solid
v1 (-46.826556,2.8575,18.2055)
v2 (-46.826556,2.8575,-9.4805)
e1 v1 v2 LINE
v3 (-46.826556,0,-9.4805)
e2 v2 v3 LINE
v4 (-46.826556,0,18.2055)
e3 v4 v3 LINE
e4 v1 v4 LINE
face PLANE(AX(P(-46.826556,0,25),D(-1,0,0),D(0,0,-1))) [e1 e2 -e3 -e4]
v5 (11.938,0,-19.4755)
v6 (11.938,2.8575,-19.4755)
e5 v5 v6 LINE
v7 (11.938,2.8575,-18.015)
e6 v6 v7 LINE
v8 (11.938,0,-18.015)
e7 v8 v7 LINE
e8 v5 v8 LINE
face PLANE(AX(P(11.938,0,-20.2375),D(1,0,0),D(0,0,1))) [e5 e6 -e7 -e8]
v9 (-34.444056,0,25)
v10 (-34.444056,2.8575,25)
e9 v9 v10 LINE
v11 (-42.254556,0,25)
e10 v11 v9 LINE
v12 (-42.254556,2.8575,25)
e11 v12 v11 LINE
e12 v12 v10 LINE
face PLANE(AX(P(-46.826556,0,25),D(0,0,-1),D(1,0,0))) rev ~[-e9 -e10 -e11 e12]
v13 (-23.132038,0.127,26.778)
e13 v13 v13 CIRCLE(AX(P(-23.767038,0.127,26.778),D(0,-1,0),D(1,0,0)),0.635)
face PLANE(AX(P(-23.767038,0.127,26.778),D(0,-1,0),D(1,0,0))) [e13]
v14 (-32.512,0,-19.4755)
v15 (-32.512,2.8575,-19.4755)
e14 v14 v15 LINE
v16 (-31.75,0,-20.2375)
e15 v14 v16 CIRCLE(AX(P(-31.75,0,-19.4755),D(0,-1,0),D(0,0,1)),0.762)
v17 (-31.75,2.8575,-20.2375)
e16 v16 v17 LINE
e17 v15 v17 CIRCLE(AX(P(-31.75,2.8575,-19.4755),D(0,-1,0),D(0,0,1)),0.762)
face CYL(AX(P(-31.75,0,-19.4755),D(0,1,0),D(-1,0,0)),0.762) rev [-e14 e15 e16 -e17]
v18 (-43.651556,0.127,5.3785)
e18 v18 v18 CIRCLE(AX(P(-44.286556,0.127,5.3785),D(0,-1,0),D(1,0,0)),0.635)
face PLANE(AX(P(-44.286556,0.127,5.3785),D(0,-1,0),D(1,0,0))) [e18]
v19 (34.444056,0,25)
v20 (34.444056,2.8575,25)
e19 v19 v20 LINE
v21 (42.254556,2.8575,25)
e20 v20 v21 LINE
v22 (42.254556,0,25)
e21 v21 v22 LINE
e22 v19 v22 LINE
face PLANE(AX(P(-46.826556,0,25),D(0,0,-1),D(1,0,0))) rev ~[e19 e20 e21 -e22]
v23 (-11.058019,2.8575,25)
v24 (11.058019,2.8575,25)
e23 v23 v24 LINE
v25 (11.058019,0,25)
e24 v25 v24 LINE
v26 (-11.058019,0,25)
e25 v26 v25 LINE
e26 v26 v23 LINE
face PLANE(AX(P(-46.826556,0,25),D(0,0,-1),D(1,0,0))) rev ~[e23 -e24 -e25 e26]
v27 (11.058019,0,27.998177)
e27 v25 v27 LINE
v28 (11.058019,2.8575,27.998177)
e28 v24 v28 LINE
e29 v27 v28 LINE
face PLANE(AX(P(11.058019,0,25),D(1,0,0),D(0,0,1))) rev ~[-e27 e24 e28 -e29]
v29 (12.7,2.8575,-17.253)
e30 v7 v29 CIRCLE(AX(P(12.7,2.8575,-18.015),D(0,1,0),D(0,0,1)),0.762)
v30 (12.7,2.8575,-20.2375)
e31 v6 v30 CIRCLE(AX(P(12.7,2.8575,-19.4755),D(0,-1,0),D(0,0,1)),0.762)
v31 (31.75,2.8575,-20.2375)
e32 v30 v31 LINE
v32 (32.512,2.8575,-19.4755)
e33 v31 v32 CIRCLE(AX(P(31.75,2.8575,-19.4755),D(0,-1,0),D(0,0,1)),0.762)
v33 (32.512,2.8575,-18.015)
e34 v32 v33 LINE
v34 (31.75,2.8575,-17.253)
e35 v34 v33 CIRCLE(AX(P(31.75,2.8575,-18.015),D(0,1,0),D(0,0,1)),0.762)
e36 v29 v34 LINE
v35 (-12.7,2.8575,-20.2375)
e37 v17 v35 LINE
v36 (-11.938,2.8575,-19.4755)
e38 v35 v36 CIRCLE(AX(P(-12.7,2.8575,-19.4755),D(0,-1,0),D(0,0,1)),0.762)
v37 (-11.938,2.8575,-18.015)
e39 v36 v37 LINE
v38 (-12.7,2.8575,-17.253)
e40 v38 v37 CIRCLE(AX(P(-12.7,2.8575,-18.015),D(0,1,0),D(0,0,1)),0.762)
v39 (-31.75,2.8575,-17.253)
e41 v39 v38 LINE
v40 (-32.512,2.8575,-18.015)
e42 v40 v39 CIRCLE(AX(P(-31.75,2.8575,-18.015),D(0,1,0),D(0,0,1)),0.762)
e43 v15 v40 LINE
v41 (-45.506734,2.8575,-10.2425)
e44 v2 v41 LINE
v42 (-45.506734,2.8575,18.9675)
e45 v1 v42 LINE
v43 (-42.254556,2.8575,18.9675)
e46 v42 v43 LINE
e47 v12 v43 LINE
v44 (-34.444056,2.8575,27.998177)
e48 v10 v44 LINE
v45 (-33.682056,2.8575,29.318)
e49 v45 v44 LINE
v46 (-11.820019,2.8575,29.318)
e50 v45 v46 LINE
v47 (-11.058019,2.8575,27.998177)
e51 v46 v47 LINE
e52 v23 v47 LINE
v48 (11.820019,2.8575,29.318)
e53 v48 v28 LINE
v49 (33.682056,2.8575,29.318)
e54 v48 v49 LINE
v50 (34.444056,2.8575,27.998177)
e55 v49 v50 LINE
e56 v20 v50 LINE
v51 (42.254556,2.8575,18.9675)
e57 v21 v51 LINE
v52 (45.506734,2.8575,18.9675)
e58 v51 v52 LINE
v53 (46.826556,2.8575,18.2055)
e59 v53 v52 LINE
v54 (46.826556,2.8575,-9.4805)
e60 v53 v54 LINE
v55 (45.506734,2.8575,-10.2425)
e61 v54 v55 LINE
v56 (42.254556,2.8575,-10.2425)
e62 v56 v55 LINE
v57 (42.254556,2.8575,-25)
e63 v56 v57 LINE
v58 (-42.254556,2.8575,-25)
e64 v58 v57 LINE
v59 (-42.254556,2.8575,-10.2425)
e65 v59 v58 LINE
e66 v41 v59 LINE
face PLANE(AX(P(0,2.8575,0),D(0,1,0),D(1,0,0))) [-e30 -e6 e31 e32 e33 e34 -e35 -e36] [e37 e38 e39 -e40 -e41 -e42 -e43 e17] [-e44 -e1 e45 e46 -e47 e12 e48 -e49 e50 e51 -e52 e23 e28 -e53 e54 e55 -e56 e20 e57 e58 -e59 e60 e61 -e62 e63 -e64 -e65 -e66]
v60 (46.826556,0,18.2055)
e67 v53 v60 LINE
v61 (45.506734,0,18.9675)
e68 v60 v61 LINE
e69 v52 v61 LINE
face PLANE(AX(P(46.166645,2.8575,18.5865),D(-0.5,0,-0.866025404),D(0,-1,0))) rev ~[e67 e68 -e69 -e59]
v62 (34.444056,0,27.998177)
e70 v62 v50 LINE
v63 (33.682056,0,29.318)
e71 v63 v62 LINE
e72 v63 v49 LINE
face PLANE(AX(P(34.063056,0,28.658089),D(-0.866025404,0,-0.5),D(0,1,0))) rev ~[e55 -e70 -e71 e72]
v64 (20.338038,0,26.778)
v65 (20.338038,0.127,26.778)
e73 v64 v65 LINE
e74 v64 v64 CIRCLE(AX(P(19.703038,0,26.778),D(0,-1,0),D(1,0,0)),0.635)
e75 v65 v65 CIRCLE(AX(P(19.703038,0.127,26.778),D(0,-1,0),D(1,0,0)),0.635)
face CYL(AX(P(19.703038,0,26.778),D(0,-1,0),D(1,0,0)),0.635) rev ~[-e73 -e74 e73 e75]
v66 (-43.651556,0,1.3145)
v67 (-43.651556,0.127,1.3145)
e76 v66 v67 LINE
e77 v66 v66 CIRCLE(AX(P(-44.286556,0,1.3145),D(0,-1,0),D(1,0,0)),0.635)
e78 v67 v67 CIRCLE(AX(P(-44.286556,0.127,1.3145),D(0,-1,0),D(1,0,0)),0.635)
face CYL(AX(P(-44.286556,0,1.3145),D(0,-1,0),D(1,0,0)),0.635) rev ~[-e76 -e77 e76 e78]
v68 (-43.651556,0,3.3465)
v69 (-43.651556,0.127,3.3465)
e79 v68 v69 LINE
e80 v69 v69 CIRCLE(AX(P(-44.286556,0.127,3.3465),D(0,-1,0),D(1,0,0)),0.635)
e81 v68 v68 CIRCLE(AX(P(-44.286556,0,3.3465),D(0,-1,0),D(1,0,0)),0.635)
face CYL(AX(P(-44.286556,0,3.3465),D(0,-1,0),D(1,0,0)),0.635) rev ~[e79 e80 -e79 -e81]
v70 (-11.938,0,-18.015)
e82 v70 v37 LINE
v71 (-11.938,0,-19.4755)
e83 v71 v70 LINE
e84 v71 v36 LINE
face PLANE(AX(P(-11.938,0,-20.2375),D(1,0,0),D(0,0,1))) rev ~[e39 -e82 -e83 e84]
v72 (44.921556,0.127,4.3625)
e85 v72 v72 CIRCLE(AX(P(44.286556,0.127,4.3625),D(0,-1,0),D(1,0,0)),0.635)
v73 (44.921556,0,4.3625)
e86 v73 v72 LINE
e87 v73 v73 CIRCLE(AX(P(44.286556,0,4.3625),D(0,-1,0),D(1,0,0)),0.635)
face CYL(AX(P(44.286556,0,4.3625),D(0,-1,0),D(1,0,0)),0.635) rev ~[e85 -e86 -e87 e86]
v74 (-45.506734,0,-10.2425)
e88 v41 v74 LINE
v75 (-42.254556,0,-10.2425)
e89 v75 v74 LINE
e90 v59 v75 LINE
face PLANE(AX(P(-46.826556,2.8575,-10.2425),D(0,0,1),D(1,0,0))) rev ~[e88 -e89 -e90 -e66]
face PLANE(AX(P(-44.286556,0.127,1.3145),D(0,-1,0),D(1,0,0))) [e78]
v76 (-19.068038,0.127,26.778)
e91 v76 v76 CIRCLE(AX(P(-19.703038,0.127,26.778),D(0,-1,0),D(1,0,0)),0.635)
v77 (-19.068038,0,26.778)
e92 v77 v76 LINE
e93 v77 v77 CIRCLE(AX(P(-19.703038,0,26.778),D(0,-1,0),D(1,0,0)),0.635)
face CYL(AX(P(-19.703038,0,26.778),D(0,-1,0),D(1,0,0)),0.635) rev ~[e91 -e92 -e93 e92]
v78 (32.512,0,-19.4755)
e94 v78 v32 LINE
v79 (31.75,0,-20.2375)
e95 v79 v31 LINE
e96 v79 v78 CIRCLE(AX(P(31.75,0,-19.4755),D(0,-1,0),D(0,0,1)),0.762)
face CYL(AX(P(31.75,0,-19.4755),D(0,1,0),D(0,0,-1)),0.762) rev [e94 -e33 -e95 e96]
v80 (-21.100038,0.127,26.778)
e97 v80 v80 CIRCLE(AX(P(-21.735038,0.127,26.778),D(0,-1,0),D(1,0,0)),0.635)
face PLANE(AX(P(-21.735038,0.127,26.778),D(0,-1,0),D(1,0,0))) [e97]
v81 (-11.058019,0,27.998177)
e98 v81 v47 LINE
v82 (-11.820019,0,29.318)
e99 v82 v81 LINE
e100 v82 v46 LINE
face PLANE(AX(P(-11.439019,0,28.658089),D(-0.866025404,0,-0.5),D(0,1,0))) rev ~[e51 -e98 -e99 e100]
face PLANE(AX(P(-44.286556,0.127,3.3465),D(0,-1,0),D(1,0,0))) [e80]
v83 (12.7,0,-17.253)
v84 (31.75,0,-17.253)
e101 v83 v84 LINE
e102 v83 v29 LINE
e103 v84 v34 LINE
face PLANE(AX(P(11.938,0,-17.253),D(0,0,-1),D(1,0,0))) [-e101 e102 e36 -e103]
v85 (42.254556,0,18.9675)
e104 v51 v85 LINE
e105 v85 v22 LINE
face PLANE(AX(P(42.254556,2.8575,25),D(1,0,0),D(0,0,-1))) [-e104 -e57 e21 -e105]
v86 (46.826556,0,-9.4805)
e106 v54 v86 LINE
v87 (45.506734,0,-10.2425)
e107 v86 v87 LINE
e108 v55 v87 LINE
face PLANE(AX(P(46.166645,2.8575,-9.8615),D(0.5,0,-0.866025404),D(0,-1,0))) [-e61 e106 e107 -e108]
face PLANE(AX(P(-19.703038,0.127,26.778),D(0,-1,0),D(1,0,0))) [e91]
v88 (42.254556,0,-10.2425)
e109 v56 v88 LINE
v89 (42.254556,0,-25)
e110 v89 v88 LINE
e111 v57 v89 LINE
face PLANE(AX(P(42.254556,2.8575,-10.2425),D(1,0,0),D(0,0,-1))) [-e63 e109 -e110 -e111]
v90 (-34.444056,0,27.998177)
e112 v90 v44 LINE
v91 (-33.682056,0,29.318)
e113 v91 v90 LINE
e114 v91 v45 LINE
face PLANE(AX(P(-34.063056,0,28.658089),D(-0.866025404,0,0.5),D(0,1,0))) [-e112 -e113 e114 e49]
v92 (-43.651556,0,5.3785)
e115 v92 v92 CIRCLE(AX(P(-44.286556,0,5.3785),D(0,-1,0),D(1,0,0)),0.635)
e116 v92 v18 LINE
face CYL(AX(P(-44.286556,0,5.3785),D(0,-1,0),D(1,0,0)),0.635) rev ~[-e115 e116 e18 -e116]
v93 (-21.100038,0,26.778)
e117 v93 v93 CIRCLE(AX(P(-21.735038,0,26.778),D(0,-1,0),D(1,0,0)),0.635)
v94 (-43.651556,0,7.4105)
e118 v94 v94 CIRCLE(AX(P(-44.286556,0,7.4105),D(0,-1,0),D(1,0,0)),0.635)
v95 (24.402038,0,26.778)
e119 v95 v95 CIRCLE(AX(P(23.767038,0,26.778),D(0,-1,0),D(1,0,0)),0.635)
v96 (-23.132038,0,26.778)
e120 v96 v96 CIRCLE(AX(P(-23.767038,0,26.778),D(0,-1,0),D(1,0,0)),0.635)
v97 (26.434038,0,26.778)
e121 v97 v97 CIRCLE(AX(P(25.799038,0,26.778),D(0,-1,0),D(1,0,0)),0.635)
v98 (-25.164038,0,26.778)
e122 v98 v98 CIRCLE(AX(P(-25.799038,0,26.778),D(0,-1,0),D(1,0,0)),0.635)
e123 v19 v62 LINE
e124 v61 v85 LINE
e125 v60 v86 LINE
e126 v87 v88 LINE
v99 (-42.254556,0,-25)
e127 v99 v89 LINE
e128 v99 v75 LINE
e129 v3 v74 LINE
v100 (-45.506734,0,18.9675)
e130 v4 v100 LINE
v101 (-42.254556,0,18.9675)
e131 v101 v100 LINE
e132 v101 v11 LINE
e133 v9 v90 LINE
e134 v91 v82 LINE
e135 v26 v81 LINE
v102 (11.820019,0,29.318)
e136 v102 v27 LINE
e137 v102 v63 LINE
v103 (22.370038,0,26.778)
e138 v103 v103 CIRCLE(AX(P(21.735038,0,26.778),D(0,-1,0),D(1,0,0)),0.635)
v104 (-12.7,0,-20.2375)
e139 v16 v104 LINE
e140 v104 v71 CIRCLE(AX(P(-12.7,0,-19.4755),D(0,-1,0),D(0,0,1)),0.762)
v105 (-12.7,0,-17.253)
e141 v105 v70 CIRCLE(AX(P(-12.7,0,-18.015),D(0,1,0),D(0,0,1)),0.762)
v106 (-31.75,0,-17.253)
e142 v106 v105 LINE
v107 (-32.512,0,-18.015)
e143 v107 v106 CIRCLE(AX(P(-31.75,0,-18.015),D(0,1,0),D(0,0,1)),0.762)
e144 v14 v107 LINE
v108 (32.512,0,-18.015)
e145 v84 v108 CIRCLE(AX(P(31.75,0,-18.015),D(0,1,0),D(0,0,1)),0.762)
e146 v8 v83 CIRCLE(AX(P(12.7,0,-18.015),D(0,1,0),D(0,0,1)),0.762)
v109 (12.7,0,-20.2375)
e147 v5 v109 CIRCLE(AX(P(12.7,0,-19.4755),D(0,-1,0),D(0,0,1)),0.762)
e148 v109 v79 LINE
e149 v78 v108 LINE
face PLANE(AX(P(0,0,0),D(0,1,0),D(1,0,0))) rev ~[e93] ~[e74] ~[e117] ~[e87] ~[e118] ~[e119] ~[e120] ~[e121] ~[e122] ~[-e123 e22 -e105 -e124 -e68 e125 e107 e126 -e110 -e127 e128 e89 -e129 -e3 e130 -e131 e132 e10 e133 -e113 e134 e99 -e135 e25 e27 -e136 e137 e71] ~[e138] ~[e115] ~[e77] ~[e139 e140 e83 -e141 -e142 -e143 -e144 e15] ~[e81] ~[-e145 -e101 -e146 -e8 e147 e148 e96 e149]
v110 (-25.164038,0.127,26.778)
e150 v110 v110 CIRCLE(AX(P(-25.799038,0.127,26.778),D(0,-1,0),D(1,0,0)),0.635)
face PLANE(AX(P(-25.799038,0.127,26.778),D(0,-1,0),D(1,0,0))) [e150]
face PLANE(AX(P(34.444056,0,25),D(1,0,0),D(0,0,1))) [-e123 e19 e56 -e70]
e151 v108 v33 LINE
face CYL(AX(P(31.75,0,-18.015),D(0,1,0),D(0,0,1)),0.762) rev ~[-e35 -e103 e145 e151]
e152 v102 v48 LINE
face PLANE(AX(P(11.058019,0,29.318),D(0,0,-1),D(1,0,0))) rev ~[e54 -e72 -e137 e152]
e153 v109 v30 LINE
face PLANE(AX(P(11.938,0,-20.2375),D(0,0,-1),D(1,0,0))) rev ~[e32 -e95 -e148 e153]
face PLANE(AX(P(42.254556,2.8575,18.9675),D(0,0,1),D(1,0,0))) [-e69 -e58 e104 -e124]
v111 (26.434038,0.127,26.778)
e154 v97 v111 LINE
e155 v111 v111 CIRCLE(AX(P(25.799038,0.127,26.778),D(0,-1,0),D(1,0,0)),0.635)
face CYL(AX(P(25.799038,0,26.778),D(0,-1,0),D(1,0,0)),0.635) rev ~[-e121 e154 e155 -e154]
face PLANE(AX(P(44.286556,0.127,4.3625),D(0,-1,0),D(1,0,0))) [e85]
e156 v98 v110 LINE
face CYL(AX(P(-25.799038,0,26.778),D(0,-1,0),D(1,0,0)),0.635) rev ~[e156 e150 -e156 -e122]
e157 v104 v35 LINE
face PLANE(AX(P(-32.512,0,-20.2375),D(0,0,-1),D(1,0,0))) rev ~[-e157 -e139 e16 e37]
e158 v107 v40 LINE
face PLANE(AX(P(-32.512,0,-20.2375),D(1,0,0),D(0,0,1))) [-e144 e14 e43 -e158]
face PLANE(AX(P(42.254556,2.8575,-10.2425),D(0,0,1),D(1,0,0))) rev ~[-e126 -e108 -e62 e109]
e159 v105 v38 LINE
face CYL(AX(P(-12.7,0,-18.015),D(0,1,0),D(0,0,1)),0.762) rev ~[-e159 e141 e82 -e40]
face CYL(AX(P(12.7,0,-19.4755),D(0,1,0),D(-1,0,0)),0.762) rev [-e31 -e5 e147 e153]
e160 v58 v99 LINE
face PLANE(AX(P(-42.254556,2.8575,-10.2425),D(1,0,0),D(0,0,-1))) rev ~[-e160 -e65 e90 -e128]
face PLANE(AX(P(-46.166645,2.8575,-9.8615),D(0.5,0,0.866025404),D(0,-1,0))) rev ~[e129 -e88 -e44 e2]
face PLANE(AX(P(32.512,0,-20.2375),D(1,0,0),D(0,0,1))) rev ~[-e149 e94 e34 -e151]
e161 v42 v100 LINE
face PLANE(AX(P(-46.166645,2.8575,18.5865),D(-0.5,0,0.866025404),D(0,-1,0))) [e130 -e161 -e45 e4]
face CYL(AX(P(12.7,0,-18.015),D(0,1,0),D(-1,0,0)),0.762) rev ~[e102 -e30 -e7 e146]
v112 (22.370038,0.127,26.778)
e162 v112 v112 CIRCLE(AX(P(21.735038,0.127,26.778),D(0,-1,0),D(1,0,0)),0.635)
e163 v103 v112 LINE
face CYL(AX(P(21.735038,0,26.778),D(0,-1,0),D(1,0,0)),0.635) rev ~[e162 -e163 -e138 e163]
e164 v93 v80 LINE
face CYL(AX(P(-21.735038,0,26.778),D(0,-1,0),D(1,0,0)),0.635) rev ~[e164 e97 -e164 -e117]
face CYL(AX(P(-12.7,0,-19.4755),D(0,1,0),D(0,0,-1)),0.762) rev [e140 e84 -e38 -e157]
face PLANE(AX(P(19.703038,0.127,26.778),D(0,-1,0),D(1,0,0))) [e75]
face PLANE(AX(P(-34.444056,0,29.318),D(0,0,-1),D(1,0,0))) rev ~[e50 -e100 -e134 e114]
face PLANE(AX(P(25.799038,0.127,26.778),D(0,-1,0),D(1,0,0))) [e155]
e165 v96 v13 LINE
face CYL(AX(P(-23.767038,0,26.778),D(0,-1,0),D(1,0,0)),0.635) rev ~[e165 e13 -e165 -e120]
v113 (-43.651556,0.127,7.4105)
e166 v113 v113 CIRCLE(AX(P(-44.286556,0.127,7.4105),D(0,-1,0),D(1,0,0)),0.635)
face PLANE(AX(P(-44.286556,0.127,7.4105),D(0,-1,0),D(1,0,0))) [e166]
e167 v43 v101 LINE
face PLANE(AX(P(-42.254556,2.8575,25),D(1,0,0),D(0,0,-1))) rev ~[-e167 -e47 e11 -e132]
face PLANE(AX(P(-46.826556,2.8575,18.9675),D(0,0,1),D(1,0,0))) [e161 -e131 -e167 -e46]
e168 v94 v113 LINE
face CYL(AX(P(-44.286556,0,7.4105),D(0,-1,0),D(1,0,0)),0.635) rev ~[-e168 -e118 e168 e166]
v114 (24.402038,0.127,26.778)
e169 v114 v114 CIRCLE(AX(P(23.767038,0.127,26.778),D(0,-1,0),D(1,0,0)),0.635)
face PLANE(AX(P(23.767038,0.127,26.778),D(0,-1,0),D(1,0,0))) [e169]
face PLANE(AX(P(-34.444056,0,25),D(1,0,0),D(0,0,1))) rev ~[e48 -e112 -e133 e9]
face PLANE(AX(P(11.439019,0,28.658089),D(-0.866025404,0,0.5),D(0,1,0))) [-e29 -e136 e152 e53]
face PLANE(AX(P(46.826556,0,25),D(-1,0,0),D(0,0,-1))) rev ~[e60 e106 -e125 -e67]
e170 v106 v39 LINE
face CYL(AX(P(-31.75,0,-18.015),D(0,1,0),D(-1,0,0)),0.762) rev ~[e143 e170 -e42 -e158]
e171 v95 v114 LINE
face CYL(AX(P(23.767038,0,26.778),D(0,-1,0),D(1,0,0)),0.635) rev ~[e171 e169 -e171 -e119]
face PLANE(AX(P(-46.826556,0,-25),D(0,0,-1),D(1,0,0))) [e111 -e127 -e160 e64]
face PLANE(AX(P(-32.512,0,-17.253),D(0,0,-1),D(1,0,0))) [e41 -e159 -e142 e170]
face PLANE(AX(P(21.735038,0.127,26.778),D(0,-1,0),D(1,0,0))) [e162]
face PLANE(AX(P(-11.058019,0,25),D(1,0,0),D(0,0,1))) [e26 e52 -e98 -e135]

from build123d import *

# Parameters (mm, degrees)
SKETCH1_W             = 93.653112922
SKETCH1_H             = 50
BOSS_EXTRUDE1_DEPTH   = 2.8575
SKETCH3_W             = 23.386037641
SKETCH3_H             = 4.318
BOSS_EXTRUDE2_DEPTH   = 2.8575
CUT_EXTRUDE1_REACH    = 4.857
SKETCH4_W             = 4.572
SKETCH4_H             = 14.7575
SKETCH4_H_2           = 6.0325
CUT_EXTRUDE2_REACH    = 4.857
SKETCH5_W             = 20.574
SKETCH5_H             = 2.9845
SKETCH6_R             = 0.635
CUT_EXTRUDE3_DEPTH    = 0.127
CHAMFER1_SIZE         = 0.762
CHAMFER1_SIZE2        = 1.319822715
CHAMFER1_PART_2_SIZE  = 0.762
CHAMFER1_PART_2_SIZE2 = 1.319822715
CHAMFER1_PART_3_SIZE  = 0.762
CHAMFER1_PART_3_SIZE2 = 1.319822715
CHAMFER1_PART_4_SIZE  = 0.762
CHAMFER1_PART_4_SIZE2 = 1.319822715
CHAMFER2_SIZE         = 0.762
CHAMFER2_SIZE2        = 1.319822715
CHAMFER2_PART_2_SIZE  = 0.762
CHAMFER2_PART_2_SIZE2 = 1.319822715
CHAMFER2_PART_3_SIZE  = 0.762
CHAMFER2_PART_3_SIZE2 = 1.319822715
CHAMFER2_PART_4_SIZE  = 0.762
CHAMFER2_PART_4_SIZE2 = 1.319822715
FILLET1_R             = 0.762


with BuildPart() as part:
    # Sketch1 → Boss-Extrude1 (new body)
    with BuildSketch(Plane(origin=(0, 0, 0), x_dir=(1, 0, 0), z_dir=(0, 1, 0))):
        Rectangle(SKETCH1_W, SKETCH1_H)
    extrude(amount=BOSS_EXTRUDE1_DEPTH)

    # Sketch3 → Boss-Extrude2 (add)
    with BuildSketch(Plane.XZ):
        with Locations((-22.751037641, 27.159)):
            Rectangle(SKETCH3_W, SKETCH3_H)
        with Locations((22.751037641, 27.159)):
            Rectangle(SKETCH3_W, SKETCH3_H)
    extrude(amount=-BOSS_EXTRUDE2_DEPTH)

    # Sketch4 → Cut-Extrude1 (cut, up to next)
    with BuildSketch(Plane(origin=(0, 2.8575, 0), x_dir=(1, 0, 0), z_dir=(0, 1, 0)), mode=Mode.PRIVATE) as cut_extrude1_sk1:
        with Locations((44.540556461, 17.62125)):
            Rectangle(SKETCH4_W, SKETCH4_H)
    cut_extrude1_tool1 = extrude(cut_extrude1_sk1.sketch, amount=-CUT_EXTRUDE1_REACH, mode=Mode.PRIVATE) & part.part
    add(cut_extrude1_tool1.solids().sort_by_distance((44.540556, 2.8575, -17.62125))[0], mode=Mode.SUBTRACT)
    # Sketch4 → Cut-Extrude1 (cut, up to next)
    with BuildSketch(Plane(origin=(0, 2.8575, 0), x_dir=(1, 0, 0), z_dir=(0, 1, 0)), mode=Mode.PRIVATE) as cut_extrude1_sk2:
        with Locations((44.540556461, -21.98375)):
            Rectangle(SKETCH4_W, SKETCH4_H_2)
    cut_extrude1_tool2 = extrude(cut_extrude1_sk2.sketch, amount=-CUT_EXTRUDE1_REACH, mode=Mode.PRIVATE) & part.part
    add(cut_extrude1_tool2.solids().sort_by_distance((44.540556, 2.8575, 21.98375))[0], mode=Mode.SUBTRACT)
    # Sketch4 → Cut-Extrude1 (cut, up to next)
    with BuildSketch(Plane(origin=(0, 2.8575, 0), x_dir=(1, 0, 0), z_dir=(0, 1, 0)), mode=Mode.PRIVATE) as cut_extrude1_sk3:
        with Locations((-44.540556461, 17.62125)):
            Rectangle(SKETCH4_W, SKETCH4_H)
    cut_extrude1_tool3 = extrude(cut_extrude1_sk3.sketch, amount=-CUT_EXTRUDE1_REACH, mode=Mode.PRIVATE) & part.part
    add(cut_extrude1_tool3.solids().sort_by_distance((-44.540556, 2.8575, -17.62125))[0], mode=Mode.SUBTRACT)
    # Sketch4 → Cut-Extrude1 (cut, up to next)
    with BuildSketch(Plane(origin=(0, 2.8575, 0), x_dir=(1, 0, 0), z_dir=(0, 1, 0)), mode=Mode.PRIVATE) as cut_extrude1_sk4:
        with Locations((-44.540556461, -21.98375)):
            Rectangle(SKETCH4_W, SKETCH4_H_2)
    cut_extrude1_tool4 = extrude(cut_extrude1_sk4.sketch, amount=-CUT_EXTRUDE1_REACH, mode=Mode.PRIVATE) & part.part
    add(cut_extrude1_tool4.solids().sort_by_distance((-44.540556, 2.8575, 21.98375))[0], mode=Mode.SUBTRACT)

    # Sketch5 → Cut-Extrude2 (cut, up to next)
    with BuildSketch(Plane.XZ, mode=Mode.PRIVATE) as cut_extrude2_sk1:
        with Locations((22.225, -18.74525)):
            Rectangle(SKETCH5_W, SKETCH5_H)
    cut_extrude2_tool1 = extrude(cut_extrude2_sk1.sketch, amount=-CUT_EXTRUDE2_REACH, mode=Mode.PRIVATE) & part.part
    add(cut_extrude2_tool1.solids().sort_by_distance((22.225, 0, -18.74525))[0], mode=Mode.SUBTRACT)
    # Sketch5 → Cut-Extrude2 (cut, up to next)
    with BuildSketch(Plane.XZ, mode=Mode.PRIVATE) as cut_extrude2_sk2:
        with Locations((-22.225, -18.74525)):
            Rectangle(SKETCH5_W, SKETCH5_H)
    cut_extrude2_tool2 = extrude(cut_extrude2_sk2.sketch, amount=-CUT_EXTRUDE2_REACH, mode=Mode.PRIVATE) & part.part
    add(cut_extrude2_tool2.solids().sort_by_distance((-22.225, 0, -18.74525))[0], mode=Mode.SUBTRACT)

    # Sketch6 → Cut-Extrude3 (cut)
    with BuildSketch(Plane.XZ):
        with Locations((-25.799037641, 26.778)):
            Circle(SKETCH6_R)
        with Locations((-23.767037641, 26.778)):
            Circle(SKETCH6_R)
        with Locations((-21.735037641, 26.778)):
            Circle(SKETCH6_R)
        with Locations((-19.703037641, 26.778)):
            Circle(SKETCH6_R)
        with Locations((19.703037641, 26.778)):
            Circle(SKETCH6_R)
        with Locations((21.735037641, 26.778)):
            Circle(SKETCH6_R)
        with Locations((23.767037641, 26.778)):
            Circle(SKETCH6_R)
        with Locations((25.799037641, 26.778)):
            Circle(SKETCH6_R)
        with Locations((44.286556461, 4.3625)):
            Circle(SKETCH6_R)
        with Locations((-44.286556461, 7.4105)):
            Circle(SKETCH6_R)
        with Locations((-44.286556461, 5.3785)):
            Circle(SKETCH6_R)
        with Locations((-44.286556461, 3.3465)):
            Circle(SKETCH6_R)
        with Locations((-44.286556461, 1.3145)):
            Circle(SKETCH6_R)
    extrude(amount=-CUT_EXTRUDE3_DEPTH, mode=Mode.SUBTRACT)

    # Chamfer1
    chamfer1_edges = [part.edges().sort_by_distance(p)[0] for p in [
        (-34.444056461, 1.42875, 29.318),
    ]]
    chamfer1_side = [part.faces().sort_by_distance(p)[0] for p in [
        (-22.751037641, 1.42875, 29.318),
    ]]
    chamfer(chamfer1_edges, length=CHAMFER1_SIZE, length2=CHAMFER1_SIZE2, reference=chamfer1_side[0])

    # Chamfer1 part 2
    chamfer1_part_2_edges = [part.edges().sort_by_distance(p)[0] for p in [
        (11.05801882, 1.42875, 29.318),
    ]]
    chamfer1_part_2_side = [part.faces().sort_by_distance(p)[0] for p in [
        (22.751037641, 1.42875, 29.318),
    ]]
    chamfer(chamfer1_part_2_edges, length=CHAMFER1_PART_2_SIZE, length2=CHAMFER1_PART_2_SIZE2, reference=chamfer1_part_2_side[0])

    # Chamfer1 part 3
    chamfer1_part_3_edges = [part.edges().sort_by_distance(p)[0] for p in [
        (-46.826556461, 1.42875, 18.9675),
    ]]
    chamfer1_part_3_side = [part.faces().sort_by_distance(p)[0] for p in [
        (-46.826556461, 1.42875, 4.3625),
    ]]
    chamfer(chamfer1_part_3_edges, length=CHAMFER1_PART_3_SIZE, length2=CHAMFER1_PART_3_SIZE2, reference=chamfer1_part_3_side[0])

    # Chamfer1 part 4
    chamfer1_part_4_edges = [part.edges().sort_by_distance(p)[0] for p in [
        (46.826556461, 1.42875, -10.2425),
    ]]
    chamfer1_part_4_side = [part.faces().sort_by_distance(p)[0] for p in [
        (46.826556461, 1.42875, 4.3625),
    ]]
    chamfer(chamfer1_part_4_edges, length=CHAMFER1_PART_4_SIZE, length2=CHAMFER1_PART_4_SIZE2, reference=chamfer1_part_4_side[0])

    # Chamfer2
    chamfer2_edges = [part.edges().sort_by_distance(p)[0] for p in [
        (-11.05801882, 1.42875, 29.318),
    ]]
    chamfer2_side = [part.faces().sort_by_distance(p)[0] for p in [
        (-22.370037641, 1.42875, 29.318),
    ]]
    chamfer(chamfer2_edges, length=CHAMFER2_SIZE, length2=CHAMFER2_SIZE2, reference=chamfer2_side[0])

    # Chamfer2 part 2
    chamfer2_part_2_edges = [part.edges().sort_by_distance(p)[0] for p in [
        (34.444056461, 1.42875, 29.318),
    ]]
    chamfer2_part_2_side = [part.faces().sort_by_distance(p)[0] for p in [
        (23.132037641, 1.42875, 29.318),
    ]]
    chamfer(chamfer2_part_2_edges, length=CHAMFER2_PART_2_SIZE, length2=CHAMFER2_PART_2_SIZE2, reference=chamfer2_part_2_side[0])

    # Chamfer2 part 3
    chamfer2_part_3_edges = [part.edges().sort_by_distance(p)[0] for p in [
        (46.826556461, 1.42875, 18.9675),
    ]]
    chamfer2_part_3_side = [part.faces().sort_by_distance(p)[0] for p in [
        (46.826556461, 1.42875, 4.7435),
    ]]
    chamfer(chamfer2_part_3_edges, length=CHAMFER2_PART_3_SIZE, length2=CHAMFER2_PART_3_SIZE2, reference=chamfer2_part_3_side[0])

    # Chamfer2 part 4
    chamfer2_part_4_edges = [part.edges().sort_by_distance(p)[0] for p in [
        (-46.826556461, 1.42875, -10.2425),
    ]]
    chamfer2_part_4_side = [part.faces().sort_by_distance(p)[0] for p in [
        (-46.826556461, 1.42875, 3.9815),
    ]]
    chamfer(chamfer2_part_4_edges, length=CHAMFER2_PART_4_SIZE, length2=CHAMFER2_PART_4_SIZE2, reference=chamfer2_part_4_side[0])

    # Fillet1
    fillet1_edges = [part.edges().sort_by_distance(p)[0] for p in [
        (11.938, 1.42875, -20.2375),
        (11.938, 1.42875, -17.253),
        (32.512, 1.42875, -17.253),
        (32.512, 1.42875, -20.2375),
        (-32.512, 1.42875, -20.2375),
        (-32.512, 1.42875, -17.253),
        (-11.938, 1.42875, -17.253),
        (-11.938, 1.42875, -20.2375),
    ]]
    fillet(fillet1_edges, radius=FILLET1_R)


solid = part.part
